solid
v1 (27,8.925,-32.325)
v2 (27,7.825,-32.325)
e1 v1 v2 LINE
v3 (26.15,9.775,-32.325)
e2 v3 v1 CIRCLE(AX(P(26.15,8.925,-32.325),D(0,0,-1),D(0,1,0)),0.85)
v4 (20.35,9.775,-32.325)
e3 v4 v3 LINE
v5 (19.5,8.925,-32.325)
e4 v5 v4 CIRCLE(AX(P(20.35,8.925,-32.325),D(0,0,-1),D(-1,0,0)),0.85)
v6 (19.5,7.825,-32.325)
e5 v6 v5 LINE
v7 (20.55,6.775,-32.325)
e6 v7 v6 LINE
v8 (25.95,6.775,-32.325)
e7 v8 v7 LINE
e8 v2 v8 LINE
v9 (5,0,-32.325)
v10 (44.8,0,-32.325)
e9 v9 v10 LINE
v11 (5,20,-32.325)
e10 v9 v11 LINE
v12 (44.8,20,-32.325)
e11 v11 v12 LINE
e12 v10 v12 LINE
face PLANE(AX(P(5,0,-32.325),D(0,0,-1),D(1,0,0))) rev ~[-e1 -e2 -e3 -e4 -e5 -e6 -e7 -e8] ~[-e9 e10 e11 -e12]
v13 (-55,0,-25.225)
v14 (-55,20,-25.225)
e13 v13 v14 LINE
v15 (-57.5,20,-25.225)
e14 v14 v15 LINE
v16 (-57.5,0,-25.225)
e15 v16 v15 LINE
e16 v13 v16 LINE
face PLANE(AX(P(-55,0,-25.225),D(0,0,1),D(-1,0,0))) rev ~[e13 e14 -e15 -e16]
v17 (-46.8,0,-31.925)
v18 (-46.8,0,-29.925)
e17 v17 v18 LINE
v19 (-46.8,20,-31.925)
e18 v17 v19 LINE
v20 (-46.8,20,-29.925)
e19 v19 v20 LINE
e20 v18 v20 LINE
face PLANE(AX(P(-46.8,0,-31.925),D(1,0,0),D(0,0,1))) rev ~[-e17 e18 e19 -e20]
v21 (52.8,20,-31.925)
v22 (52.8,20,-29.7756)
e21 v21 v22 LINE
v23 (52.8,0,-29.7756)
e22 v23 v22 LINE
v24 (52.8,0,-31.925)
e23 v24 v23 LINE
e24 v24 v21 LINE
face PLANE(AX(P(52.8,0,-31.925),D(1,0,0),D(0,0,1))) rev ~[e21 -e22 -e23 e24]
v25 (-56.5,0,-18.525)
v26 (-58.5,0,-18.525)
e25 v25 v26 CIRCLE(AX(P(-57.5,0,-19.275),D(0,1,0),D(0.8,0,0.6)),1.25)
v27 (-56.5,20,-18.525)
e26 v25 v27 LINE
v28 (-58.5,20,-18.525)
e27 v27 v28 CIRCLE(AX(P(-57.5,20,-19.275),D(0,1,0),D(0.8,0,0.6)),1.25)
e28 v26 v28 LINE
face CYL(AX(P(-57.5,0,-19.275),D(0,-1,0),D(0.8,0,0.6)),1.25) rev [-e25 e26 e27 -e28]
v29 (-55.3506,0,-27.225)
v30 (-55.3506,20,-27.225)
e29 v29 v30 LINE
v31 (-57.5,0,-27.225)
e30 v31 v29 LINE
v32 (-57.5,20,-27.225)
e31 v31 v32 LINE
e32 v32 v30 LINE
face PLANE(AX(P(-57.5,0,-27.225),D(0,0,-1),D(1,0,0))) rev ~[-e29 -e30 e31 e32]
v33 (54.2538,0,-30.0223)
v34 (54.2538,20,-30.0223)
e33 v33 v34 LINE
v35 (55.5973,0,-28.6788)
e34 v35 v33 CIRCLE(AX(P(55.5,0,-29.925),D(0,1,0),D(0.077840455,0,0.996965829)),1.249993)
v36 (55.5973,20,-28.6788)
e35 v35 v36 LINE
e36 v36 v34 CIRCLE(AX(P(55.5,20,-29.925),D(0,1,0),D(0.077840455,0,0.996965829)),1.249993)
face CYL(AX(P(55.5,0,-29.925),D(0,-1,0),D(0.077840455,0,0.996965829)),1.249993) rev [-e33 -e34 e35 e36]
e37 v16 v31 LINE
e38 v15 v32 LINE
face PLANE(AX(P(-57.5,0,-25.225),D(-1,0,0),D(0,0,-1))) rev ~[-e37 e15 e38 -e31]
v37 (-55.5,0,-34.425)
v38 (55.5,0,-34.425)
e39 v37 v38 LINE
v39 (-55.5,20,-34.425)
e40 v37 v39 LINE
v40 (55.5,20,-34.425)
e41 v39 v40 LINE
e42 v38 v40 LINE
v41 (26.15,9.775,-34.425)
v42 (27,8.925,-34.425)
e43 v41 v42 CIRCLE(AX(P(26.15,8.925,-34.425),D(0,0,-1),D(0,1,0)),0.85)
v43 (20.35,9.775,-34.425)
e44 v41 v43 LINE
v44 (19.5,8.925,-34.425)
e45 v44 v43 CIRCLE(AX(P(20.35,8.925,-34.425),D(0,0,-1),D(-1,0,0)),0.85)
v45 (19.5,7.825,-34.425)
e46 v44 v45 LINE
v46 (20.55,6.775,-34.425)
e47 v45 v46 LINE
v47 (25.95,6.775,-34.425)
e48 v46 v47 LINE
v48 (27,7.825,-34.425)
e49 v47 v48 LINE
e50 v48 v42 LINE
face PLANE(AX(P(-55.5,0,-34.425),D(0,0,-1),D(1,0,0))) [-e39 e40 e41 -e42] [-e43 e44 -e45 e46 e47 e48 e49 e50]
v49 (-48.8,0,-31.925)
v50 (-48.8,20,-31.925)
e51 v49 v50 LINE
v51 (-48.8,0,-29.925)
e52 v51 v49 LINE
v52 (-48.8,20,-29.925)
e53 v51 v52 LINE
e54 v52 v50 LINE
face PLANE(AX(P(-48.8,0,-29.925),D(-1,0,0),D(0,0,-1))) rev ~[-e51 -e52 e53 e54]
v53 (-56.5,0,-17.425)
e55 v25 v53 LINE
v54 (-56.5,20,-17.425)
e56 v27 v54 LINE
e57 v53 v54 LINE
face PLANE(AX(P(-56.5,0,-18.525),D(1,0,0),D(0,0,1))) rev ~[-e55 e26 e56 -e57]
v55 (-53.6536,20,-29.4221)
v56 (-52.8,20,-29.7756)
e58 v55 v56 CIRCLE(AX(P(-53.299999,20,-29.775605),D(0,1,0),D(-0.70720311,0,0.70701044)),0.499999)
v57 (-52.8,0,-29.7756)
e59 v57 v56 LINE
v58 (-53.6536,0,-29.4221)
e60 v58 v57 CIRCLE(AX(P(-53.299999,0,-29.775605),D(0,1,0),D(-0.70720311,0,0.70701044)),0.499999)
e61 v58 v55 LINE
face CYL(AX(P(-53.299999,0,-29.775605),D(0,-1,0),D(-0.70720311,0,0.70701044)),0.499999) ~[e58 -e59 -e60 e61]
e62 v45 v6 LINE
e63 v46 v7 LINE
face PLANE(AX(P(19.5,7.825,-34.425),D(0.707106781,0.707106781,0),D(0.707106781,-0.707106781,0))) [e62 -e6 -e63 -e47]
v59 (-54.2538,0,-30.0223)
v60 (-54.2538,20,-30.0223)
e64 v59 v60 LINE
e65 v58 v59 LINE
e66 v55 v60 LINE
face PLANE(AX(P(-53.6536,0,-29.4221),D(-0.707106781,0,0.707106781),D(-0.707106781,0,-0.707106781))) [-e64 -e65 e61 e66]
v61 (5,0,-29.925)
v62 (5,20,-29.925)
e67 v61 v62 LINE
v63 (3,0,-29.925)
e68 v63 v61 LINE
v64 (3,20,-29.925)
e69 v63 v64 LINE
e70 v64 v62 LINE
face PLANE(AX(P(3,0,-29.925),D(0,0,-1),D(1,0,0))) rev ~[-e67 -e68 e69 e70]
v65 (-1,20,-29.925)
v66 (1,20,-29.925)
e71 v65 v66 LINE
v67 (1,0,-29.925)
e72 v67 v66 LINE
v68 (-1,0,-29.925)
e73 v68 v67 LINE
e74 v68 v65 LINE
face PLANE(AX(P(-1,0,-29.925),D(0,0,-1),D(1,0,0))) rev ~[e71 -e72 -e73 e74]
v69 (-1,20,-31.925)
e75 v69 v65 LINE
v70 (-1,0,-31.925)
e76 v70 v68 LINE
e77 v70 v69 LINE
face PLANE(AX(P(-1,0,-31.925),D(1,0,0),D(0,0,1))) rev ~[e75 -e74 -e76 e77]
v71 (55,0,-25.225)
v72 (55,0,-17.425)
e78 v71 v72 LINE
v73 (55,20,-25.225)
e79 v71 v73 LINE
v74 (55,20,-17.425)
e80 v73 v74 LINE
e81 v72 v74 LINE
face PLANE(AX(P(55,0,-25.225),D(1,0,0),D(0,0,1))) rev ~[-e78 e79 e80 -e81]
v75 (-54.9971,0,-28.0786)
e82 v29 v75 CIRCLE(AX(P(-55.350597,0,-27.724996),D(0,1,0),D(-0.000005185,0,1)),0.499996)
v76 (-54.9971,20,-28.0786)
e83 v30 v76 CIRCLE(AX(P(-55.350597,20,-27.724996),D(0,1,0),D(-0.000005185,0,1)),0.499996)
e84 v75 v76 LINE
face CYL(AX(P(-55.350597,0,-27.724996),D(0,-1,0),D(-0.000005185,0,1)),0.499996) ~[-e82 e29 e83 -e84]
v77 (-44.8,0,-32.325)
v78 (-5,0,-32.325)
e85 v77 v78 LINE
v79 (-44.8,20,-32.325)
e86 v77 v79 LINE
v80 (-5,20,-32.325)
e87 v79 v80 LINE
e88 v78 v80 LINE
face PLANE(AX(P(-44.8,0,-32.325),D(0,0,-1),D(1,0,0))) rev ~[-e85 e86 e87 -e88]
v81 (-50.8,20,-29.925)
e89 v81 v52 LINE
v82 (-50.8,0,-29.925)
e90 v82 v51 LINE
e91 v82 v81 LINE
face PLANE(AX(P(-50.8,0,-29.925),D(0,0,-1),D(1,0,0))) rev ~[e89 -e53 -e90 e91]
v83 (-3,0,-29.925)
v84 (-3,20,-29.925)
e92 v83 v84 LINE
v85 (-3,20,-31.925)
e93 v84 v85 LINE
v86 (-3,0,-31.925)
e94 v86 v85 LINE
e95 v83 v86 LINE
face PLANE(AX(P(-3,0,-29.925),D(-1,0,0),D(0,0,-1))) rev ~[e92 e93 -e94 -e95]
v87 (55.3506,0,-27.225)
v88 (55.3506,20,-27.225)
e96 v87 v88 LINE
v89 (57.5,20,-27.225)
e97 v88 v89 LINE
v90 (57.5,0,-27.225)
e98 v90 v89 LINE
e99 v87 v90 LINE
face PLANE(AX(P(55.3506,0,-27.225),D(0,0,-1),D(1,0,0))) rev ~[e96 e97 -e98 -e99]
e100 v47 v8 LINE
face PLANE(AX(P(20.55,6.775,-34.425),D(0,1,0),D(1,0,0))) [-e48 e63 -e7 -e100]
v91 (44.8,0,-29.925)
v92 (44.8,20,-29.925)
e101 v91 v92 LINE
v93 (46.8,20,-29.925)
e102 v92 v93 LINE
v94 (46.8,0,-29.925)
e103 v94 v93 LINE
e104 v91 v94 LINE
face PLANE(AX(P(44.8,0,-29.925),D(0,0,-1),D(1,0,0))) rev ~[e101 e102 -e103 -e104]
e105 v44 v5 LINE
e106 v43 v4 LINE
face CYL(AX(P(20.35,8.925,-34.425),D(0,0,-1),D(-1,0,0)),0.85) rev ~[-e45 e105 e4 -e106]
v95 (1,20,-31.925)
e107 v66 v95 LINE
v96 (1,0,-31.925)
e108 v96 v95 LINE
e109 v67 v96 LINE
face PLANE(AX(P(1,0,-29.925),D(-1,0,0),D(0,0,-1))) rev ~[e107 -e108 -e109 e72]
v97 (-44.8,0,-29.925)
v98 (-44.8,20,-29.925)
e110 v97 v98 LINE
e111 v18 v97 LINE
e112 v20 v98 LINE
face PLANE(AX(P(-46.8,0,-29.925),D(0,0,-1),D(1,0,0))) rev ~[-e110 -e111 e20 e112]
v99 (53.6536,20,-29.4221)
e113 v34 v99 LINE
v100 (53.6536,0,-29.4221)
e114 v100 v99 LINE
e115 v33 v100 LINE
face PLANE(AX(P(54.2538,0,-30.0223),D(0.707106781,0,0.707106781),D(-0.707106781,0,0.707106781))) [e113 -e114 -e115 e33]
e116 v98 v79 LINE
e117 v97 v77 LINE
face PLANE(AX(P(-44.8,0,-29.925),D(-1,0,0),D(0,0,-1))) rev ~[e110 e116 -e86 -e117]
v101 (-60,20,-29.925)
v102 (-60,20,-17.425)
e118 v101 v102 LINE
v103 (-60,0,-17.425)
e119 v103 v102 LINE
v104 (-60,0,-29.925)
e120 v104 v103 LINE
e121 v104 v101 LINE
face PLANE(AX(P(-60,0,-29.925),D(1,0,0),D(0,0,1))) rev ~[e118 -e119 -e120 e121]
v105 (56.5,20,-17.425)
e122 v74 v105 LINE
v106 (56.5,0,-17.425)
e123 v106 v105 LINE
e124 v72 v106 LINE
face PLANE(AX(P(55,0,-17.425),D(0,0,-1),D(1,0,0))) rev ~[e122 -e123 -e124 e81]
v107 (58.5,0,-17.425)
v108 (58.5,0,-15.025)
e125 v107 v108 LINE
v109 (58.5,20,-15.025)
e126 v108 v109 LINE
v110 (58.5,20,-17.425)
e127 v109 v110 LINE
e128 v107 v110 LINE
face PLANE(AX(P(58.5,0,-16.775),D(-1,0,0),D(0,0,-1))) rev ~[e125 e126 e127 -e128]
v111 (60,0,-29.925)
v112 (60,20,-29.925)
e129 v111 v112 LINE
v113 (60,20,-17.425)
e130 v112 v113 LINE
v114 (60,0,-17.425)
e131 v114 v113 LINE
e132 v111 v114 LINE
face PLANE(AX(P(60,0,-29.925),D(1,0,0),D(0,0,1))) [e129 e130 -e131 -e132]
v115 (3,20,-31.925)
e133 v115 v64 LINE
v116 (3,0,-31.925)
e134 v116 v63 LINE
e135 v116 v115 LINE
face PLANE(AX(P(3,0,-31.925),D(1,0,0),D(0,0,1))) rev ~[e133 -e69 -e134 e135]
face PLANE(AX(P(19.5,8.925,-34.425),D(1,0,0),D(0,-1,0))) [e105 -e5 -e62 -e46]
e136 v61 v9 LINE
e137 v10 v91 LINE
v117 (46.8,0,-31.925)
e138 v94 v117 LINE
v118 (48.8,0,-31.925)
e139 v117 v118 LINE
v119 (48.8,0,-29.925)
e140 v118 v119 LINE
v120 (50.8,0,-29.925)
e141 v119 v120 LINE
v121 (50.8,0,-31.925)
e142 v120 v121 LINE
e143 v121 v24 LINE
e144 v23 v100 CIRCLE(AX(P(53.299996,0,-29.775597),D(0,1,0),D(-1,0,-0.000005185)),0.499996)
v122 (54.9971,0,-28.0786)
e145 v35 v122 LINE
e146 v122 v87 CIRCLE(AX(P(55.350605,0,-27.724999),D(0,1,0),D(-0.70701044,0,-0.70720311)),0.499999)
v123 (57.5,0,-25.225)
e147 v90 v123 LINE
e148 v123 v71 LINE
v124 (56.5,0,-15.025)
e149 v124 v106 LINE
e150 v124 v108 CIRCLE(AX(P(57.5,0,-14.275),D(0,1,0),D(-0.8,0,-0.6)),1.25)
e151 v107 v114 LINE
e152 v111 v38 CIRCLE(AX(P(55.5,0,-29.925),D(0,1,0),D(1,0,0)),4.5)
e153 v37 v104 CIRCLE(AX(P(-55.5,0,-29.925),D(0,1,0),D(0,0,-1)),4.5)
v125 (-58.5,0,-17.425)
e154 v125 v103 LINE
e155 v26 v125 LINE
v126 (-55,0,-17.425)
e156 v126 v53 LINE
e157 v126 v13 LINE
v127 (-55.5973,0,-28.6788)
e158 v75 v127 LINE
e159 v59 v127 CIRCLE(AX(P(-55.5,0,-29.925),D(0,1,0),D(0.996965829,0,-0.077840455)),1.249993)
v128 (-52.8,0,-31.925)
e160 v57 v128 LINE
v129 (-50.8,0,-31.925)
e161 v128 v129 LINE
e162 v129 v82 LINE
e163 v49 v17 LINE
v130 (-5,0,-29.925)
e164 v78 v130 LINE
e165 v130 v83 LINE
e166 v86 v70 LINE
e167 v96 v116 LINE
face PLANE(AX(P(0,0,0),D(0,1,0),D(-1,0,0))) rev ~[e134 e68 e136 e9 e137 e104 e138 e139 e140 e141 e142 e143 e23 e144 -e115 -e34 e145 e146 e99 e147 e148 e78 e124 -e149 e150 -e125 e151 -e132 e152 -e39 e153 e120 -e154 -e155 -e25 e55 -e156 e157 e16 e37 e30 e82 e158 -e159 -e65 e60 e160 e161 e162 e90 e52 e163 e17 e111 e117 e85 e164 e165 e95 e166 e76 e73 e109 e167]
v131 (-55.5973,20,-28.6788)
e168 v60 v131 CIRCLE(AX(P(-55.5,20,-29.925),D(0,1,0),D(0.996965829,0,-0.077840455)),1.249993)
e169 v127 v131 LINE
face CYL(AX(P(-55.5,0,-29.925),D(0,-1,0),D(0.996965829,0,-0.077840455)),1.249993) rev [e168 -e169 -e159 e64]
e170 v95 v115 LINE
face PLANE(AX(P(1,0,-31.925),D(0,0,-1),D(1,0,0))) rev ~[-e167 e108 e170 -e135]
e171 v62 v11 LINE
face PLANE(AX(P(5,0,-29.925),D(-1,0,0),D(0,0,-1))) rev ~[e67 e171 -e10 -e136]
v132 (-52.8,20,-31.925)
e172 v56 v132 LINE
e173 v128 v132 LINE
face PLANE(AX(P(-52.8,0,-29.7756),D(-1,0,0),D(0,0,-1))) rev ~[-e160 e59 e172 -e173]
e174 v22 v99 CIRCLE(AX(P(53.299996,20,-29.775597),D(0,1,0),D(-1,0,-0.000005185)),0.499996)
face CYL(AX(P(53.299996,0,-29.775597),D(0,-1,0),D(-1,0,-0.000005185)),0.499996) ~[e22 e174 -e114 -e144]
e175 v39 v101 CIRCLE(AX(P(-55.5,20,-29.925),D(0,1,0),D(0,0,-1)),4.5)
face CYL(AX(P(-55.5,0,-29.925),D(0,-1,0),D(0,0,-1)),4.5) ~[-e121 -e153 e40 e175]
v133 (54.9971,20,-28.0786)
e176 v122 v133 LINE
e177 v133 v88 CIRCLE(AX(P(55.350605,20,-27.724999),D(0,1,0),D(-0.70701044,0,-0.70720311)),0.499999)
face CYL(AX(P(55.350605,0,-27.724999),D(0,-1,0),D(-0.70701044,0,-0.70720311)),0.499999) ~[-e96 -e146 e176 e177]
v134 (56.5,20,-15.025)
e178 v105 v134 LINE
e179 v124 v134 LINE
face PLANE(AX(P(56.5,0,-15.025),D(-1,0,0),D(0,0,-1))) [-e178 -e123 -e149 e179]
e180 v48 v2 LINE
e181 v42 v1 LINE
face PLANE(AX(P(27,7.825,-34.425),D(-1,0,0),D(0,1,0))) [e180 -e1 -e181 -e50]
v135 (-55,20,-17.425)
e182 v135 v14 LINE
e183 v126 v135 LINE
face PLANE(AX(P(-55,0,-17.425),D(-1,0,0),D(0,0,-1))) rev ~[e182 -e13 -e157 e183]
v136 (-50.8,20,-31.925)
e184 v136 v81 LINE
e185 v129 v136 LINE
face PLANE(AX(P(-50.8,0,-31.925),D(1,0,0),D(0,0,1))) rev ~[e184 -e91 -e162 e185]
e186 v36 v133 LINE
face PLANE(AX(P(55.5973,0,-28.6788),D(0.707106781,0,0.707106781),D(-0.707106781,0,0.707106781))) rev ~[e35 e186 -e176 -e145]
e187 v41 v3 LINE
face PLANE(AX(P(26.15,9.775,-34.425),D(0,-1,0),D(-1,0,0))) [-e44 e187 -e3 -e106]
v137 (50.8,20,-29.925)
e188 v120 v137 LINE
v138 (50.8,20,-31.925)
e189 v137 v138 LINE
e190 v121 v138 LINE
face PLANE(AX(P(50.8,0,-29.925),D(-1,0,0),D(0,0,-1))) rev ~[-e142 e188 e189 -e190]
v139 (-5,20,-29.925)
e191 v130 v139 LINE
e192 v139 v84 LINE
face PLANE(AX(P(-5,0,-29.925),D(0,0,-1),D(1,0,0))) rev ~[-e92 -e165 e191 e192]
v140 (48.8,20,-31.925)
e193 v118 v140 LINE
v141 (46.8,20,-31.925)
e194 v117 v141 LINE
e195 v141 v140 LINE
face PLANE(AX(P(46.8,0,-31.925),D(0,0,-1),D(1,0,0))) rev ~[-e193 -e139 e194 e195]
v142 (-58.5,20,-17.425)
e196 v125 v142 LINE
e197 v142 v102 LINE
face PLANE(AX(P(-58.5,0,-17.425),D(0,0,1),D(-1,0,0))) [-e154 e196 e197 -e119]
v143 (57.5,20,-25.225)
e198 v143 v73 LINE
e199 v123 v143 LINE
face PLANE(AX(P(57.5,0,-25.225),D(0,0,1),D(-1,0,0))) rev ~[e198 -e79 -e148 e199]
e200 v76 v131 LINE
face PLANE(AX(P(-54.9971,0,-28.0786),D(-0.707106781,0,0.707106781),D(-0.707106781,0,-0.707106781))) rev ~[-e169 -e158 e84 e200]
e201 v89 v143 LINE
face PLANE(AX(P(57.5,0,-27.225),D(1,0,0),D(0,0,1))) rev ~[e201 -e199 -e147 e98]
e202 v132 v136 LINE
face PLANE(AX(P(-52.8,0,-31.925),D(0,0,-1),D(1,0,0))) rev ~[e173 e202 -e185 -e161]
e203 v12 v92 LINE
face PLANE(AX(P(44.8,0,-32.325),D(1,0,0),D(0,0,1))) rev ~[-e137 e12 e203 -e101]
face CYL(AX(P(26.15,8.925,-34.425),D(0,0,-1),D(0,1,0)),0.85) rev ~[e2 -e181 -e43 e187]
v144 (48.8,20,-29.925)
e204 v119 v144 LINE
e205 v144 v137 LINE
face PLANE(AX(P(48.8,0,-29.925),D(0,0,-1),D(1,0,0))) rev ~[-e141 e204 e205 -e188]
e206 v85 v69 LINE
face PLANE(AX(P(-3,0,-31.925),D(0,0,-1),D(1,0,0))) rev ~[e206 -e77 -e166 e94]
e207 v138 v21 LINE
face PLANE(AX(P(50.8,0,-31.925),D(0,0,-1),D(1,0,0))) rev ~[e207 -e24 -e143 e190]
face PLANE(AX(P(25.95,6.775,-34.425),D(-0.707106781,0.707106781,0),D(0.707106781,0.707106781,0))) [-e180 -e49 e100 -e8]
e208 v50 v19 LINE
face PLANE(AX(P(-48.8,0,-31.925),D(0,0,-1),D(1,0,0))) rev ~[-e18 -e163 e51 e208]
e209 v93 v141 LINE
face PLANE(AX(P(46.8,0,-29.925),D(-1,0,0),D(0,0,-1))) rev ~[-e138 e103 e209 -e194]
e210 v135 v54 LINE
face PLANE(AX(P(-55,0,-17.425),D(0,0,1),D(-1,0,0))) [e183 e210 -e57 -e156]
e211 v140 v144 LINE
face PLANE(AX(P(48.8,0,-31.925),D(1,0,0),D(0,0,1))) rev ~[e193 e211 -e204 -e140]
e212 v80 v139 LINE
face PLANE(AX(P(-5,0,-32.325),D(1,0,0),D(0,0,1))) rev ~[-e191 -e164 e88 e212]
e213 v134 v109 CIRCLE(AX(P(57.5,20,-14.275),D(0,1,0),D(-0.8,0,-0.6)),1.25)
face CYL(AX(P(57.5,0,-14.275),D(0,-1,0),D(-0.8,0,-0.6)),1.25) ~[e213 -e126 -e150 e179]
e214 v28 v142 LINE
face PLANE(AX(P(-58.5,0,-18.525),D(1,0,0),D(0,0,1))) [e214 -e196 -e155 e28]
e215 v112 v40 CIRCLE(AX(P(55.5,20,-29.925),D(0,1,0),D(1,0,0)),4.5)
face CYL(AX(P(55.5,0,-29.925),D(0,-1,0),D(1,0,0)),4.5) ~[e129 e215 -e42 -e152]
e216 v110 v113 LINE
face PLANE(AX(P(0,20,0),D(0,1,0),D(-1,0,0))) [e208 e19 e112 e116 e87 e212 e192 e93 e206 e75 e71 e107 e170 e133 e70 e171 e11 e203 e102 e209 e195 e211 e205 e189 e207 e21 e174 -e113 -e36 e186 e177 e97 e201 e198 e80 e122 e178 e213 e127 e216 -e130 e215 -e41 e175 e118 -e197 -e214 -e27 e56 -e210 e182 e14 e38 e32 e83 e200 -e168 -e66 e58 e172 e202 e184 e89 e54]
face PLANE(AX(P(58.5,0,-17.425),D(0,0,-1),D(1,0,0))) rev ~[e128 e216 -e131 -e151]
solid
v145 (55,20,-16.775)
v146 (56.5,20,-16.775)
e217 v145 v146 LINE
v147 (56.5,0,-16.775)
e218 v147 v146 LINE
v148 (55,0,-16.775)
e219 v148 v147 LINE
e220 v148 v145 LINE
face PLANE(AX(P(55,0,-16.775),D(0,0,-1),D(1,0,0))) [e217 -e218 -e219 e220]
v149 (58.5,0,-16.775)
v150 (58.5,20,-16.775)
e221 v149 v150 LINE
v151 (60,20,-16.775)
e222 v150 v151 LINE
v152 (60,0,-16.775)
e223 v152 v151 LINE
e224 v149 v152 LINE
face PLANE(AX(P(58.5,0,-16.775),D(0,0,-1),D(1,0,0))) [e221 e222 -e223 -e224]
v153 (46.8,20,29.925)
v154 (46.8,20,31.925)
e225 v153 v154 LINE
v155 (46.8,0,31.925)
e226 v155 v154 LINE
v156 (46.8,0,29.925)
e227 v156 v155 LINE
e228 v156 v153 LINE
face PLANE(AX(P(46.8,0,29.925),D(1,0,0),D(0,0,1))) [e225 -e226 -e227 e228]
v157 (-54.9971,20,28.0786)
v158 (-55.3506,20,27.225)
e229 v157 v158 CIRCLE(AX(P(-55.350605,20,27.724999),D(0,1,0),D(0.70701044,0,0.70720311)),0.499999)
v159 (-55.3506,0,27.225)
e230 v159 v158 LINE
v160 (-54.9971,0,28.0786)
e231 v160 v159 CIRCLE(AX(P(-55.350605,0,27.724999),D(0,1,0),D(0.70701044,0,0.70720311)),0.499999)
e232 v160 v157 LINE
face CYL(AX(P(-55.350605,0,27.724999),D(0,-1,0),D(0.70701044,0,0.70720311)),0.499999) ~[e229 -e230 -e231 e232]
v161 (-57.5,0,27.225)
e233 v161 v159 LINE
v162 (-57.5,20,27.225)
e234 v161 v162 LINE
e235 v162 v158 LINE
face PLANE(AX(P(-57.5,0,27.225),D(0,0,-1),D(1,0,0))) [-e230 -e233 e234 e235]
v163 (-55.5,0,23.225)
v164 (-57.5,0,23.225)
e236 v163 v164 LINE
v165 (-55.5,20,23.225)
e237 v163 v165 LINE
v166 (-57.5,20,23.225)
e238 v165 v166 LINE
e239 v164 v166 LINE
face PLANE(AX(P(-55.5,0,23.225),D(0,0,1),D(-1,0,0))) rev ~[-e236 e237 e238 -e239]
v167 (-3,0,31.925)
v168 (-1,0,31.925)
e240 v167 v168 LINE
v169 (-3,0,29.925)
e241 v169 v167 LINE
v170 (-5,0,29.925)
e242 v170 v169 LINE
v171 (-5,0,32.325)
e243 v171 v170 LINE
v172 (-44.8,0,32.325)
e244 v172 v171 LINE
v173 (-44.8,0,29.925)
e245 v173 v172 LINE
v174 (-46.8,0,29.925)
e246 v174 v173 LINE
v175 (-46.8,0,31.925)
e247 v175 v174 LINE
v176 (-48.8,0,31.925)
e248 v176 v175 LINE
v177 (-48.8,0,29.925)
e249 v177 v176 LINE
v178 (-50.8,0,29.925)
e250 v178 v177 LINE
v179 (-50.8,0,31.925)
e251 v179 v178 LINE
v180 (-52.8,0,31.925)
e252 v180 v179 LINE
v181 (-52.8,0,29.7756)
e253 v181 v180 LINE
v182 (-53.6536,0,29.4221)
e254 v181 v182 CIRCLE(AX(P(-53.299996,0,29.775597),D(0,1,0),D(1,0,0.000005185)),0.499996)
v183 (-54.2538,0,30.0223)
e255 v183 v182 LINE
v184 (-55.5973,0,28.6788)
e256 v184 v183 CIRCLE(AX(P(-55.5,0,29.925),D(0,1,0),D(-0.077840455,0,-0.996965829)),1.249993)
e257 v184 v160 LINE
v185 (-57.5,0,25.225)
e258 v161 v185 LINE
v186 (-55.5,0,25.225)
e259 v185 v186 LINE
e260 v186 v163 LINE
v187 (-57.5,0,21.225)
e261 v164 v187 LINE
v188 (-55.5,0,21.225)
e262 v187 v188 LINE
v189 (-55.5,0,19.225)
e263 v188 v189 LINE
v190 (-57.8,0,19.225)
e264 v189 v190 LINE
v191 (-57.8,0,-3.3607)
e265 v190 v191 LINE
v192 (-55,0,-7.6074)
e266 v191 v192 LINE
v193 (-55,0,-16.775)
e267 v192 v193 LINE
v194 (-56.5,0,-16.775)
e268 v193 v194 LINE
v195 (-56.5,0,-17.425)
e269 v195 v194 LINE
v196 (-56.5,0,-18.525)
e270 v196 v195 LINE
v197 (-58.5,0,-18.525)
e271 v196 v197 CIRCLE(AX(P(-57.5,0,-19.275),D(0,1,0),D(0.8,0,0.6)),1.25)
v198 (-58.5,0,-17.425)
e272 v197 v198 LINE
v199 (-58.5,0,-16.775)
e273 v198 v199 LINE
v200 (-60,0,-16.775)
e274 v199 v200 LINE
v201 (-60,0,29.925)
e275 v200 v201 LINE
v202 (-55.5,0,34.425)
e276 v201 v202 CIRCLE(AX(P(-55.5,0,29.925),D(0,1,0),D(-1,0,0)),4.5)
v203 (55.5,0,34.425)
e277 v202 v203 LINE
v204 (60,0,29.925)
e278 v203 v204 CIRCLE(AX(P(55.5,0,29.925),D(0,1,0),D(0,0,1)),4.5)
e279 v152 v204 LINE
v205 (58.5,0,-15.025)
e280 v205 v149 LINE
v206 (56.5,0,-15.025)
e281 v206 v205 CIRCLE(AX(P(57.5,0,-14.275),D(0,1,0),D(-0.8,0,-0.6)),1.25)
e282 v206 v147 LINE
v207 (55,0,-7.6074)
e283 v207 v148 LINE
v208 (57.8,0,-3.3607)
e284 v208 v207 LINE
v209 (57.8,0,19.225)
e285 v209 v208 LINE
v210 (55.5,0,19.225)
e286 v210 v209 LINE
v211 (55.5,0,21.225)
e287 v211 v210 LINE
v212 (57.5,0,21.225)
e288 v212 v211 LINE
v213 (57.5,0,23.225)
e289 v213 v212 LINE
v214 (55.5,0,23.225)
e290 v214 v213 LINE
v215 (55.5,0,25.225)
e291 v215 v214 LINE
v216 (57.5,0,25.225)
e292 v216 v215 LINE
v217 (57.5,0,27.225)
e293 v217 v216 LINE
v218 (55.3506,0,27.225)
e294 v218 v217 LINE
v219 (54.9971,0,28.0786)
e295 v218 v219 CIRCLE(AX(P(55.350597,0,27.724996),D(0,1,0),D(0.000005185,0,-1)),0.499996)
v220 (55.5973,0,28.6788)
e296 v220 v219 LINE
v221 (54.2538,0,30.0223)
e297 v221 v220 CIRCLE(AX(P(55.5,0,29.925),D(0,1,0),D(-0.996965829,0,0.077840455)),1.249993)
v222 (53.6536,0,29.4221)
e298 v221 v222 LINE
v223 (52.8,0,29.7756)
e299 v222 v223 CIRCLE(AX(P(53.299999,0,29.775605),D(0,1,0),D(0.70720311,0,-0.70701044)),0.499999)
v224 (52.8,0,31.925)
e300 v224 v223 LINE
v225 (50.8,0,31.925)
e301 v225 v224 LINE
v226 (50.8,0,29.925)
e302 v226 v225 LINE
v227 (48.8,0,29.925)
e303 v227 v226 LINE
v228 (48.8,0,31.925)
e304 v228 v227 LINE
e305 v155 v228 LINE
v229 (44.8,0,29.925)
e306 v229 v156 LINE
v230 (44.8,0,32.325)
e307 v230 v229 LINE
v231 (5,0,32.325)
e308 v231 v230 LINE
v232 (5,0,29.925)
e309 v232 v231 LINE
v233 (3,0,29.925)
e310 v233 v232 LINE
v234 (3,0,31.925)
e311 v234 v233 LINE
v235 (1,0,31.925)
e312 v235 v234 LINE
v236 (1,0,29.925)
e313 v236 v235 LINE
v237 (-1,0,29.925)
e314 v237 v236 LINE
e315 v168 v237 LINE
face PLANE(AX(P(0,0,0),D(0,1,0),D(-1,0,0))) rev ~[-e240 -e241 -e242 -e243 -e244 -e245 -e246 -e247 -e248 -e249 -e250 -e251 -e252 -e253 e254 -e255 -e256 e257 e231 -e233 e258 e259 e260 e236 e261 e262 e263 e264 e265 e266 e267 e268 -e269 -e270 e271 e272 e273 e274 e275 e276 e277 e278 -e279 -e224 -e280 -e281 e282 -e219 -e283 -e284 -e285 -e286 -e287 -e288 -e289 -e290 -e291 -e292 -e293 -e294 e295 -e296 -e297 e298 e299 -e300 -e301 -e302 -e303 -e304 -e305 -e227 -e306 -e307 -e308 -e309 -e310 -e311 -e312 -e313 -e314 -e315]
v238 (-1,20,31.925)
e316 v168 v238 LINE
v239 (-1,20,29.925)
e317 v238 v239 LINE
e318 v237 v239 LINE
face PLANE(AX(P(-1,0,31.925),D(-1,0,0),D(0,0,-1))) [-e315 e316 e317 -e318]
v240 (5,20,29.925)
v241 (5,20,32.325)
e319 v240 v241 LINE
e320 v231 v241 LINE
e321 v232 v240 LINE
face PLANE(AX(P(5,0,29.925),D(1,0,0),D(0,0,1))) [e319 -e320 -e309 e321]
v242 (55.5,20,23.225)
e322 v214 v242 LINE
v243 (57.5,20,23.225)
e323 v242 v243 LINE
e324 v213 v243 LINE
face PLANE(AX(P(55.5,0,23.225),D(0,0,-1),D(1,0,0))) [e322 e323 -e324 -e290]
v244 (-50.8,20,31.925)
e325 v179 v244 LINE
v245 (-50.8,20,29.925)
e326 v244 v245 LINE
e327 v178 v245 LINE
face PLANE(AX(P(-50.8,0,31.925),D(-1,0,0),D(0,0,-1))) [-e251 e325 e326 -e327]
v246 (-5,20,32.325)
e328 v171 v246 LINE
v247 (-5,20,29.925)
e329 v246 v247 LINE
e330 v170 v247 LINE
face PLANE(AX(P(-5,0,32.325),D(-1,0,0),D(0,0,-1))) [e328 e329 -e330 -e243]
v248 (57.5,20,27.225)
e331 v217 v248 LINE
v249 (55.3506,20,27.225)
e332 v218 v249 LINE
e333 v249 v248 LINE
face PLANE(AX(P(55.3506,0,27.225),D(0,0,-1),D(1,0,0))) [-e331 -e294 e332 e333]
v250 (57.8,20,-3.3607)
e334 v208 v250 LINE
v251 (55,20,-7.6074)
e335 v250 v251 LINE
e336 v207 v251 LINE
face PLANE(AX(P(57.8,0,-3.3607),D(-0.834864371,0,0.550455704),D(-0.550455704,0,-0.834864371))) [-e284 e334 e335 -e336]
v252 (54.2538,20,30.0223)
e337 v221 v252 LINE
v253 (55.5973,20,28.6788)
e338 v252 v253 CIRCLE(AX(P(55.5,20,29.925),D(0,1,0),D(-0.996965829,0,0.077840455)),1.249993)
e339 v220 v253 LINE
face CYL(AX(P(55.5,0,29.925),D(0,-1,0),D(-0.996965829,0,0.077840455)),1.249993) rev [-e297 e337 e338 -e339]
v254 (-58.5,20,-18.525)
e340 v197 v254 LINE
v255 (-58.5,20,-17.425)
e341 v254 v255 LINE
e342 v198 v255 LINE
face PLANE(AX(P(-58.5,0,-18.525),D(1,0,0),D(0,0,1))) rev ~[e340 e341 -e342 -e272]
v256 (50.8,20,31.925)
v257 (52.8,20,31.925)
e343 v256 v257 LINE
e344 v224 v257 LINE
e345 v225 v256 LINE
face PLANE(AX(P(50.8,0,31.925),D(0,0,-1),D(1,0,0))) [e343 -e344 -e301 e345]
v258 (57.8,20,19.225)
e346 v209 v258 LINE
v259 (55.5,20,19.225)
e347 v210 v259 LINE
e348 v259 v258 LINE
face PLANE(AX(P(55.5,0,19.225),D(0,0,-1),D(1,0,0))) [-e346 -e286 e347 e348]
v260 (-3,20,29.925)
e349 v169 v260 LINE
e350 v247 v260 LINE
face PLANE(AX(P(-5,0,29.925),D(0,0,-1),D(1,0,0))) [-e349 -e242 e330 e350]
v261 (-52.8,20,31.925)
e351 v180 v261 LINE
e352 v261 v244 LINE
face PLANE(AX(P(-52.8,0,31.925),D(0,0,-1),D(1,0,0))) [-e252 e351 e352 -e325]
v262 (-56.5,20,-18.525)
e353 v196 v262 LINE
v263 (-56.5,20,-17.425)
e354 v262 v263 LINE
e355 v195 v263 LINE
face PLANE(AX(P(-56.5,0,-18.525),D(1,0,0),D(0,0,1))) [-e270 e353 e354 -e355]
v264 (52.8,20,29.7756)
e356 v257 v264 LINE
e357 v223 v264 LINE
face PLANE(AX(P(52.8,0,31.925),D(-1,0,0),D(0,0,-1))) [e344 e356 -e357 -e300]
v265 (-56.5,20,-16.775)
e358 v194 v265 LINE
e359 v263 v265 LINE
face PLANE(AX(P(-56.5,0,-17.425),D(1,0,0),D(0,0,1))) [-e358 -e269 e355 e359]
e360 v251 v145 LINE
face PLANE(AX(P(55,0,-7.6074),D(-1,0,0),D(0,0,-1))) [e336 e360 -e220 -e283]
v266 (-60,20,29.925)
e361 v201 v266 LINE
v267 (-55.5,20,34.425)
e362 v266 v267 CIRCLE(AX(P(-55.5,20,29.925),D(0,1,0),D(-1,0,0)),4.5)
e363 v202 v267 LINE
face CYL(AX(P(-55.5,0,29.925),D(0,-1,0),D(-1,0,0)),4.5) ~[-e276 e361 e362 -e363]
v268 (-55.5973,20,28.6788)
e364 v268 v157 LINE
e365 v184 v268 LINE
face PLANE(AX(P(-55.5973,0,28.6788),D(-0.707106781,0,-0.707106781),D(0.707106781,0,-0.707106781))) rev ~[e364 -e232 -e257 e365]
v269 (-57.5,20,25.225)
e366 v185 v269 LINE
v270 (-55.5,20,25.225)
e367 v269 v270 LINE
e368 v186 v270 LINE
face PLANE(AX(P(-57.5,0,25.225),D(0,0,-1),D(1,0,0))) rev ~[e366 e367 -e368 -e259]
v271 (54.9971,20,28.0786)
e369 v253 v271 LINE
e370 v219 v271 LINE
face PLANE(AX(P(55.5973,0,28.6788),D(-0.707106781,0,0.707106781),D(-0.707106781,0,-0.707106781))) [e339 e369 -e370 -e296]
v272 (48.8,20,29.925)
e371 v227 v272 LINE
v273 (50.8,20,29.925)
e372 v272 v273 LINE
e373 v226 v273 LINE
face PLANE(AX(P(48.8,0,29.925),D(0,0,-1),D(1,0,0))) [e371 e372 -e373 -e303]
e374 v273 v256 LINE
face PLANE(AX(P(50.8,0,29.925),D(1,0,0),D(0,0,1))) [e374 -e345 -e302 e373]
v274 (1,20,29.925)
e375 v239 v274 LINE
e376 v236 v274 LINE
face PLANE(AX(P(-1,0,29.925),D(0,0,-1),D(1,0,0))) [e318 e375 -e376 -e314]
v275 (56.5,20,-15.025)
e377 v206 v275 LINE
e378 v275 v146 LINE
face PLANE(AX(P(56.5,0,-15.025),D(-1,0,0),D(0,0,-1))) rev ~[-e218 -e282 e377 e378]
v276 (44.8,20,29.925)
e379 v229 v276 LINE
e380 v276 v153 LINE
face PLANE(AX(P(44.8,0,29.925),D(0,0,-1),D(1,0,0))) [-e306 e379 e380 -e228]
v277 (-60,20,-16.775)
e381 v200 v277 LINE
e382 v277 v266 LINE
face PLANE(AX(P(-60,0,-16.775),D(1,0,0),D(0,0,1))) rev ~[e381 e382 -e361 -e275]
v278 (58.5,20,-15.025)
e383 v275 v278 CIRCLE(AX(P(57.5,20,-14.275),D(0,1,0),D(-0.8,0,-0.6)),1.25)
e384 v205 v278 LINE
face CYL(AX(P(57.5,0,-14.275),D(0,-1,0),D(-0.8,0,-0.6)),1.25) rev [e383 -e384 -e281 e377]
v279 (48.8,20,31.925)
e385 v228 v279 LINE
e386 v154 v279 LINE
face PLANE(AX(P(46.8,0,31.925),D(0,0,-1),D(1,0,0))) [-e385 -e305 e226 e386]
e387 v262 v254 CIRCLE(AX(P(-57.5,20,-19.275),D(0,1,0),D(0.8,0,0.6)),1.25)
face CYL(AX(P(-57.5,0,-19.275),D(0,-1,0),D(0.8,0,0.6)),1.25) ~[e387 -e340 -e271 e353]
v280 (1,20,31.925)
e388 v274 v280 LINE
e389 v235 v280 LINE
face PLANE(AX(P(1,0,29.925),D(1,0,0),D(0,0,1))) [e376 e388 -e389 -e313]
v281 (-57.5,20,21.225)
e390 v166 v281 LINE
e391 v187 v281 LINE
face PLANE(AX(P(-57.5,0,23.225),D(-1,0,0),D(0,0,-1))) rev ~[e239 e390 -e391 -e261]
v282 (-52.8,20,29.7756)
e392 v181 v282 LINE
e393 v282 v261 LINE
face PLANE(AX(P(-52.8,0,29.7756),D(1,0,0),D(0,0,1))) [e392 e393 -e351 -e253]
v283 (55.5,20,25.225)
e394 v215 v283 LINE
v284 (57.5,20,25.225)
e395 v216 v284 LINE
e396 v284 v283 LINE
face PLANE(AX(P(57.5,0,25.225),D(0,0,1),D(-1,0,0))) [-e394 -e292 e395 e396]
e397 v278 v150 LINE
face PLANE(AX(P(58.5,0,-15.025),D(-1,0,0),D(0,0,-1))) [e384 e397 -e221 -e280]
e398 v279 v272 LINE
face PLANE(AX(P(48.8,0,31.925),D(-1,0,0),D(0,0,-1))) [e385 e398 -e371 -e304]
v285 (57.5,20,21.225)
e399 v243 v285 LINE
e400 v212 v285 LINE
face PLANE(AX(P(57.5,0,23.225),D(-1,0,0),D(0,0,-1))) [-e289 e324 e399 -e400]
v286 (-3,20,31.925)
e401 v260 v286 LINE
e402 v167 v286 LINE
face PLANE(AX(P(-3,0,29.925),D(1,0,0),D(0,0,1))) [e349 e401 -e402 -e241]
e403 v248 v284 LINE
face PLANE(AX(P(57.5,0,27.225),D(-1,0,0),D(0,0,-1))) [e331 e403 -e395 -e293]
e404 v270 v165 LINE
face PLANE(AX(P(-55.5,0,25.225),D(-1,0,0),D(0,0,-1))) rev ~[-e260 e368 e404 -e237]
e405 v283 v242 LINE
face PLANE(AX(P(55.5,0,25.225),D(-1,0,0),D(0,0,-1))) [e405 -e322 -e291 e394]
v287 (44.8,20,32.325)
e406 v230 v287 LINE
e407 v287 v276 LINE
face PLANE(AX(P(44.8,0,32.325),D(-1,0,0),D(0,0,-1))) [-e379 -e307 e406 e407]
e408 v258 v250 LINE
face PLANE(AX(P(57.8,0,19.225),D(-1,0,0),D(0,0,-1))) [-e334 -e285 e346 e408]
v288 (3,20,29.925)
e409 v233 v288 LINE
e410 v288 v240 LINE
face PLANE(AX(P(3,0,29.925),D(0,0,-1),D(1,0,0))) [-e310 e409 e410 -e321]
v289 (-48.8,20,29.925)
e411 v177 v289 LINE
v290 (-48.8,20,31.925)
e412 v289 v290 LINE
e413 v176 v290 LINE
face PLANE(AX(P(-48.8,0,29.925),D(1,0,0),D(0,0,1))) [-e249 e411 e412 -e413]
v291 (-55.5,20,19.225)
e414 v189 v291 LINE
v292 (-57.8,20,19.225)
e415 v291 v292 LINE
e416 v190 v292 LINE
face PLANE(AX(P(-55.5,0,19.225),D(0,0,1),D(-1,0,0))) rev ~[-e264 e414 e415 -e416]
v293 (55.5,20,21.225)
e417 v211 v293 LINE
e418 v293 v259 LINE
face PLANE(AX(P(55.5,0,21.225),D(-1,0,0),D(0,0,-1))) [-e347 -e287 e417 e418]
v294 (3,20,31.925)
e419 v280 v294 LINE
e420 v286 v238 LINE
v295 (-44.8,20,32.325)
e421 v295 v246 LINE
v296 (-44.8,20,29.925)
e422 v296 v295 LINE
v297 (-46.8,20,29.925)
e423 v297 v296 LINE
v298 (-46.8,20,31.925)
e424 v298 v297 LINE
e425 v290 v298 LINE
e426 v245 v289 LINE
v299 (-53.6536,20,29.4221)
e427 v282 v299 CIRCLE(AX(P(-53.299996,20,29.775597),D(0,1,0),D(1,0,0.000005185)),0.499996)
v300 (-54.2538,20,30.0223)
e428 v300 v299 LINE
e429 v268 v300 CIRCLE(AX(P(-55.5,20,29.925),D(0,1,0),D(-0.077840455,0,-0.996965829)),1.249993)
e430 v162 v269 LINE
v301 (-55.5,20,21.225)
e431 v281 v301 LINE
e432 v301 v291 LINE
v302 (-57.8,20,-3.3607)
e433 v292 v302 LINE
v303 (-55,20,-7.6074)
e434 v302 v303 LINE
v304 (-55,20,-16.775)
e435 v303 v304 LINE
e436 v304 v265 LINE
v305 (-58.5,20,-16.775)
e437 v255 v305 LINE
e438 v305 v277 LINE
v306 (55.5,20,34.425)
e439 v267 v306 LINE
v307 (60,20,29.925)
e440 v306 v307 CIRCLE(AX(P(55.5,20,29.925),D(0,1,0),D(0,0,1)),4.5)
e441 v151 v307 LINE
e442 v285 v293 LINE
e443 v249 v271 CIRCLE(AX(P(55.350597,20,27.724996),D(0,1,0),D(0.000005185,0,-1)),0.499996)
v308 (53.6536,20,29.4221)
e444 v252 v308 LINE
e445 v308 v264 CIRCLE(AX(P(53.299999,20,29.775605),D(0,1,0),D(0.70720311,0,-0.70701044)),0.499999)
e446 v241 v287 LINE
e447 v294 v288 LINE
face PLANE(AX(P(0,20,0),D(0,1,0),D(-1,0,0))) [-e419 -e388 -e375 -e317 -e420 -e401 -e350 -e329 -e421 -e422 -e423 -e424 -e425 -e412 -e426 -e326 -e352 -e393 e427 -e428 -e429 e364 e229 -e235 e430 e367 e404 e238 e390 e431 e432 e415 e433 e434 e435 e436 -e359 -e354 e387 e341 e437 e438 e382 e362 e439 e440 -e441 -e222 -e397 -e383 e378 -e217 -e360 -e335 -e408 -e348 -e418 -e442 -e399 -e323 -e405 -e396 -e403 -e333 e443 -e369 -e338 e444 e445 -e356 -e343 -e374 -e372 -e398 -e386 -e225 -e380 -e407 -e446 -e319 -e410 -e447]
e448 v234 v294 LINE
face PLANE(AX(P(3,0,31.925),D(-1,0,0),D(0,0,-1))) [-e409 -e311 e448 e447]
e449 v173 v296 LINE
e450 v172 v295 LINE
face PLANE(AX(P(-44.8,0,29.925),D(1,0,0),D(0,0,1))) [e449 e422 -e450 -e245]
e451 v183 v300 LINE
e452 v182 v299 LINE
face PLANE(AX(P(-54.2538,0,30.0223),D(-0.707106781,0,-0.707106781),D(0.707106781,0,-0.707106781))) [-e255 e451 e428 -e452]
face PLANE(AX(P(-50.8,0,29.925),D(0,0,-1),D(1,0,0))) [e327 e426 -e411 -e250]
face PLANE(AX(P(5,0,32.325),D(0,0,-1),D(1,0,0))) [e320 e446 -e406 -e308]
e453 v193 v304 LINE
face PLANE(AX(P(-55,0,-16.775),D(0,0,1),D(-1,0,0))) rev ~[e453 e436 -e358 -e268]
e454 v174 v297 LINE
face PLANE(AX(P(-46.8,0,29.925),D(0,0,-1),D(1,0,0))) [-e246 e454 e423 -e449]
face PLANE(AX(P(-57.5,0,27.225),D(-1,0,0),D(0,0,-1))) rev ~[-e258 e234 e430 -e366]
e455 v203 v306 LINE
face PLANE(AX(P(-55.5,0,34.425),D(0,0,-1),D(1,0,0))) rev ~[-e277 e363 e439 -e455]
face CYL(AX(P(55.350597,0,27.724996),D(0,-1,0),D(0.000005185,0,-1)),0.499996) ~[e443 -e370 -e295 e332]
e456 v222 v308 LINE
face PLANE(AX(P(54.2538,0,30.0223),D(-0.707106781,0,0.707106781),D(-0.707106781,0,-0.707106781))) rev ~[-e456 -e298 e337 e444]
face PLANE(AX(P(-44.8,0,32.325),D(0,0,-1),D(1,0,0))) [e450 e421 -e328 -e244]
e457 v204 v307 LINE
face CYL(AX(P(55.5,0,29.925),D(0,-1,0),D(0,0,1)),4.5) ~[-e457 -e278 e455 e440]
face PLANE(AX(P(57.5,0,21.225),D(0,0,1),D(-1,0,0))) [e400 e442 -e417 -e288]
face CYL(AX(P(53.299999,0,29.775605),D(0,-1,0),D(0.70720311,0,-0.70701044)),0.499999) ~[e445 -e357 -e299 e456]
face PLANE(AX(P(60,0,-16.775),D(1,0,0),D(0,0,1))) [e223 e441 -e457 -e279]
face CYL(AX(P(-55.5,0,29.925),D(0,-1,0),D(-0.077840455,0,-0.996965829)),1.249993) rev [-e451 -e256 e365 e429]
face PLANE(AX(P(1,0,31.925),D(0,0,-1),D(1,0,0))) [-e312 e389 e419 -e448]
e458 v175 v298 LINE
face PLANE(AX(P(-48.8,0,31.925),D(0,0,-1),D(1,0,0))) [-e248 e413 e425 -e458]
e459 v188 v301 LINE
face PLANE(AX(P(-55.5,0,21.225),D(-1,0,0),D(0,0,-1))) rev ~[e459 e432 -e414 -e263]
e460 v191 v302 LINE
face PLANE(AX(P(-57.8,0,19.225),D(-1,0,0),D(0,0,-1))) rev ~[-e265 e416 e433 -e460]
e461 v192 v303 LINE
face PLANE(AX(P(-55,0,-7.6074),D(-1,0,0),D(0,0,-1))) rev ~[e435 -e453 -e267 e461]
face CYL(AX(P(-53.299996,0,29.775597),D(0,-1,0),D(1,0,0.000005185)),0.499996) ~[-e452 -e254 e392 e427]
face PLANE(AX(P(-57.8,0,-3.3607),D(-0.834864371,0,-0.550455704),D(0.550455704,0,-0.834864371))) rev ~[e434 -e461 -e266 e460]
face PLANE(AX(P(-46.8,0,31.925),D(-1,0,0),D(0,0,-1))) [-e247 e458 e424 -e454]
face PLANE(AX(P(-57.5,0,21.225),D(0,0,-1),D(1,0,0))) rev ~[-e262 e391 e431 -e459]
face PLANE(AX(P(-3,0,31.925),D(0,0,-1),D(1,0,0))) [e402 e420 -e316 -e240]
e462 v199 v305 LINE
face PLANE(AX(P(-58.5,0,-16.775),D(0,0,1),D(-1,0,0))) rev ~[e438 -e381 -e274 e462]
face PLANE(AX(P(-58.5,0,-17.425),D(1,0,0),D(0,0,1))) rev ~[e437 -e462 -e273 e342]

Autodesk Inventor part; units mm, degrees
ref_plane "YZ Plane" through (0, 0, 0) normal (1, 0, 0) x (0, 1, 0)
ref_plane "XZ Plane" through (0, 0, 0) normal (0, 1, 0) x (-1, 0, 0)
ref_plane "XY Plane" through (0, 0, 0) normal (0, 0, 1) x (1, 0, 0)
sketch "Sketch1" plane through (0, 0, 0) normal (0, 1, 0) x (-1, 0, 0)
  arc A0 (55.5973, 28.6788) -> (54.2538, 30.0223) centre (55.5, 29.925) ccw
  arc A1 (-54.2538, 30.0223) -> (-55.5973, 28.6788) centre (-55.5, 29.925) ccw
  arc A2 (54.2538, -30.0223) -> (55.5973, -28.6788) centre (55.5, -29.925) ccw
  arc A3 (-55.5973, -28.6788) -> (-54.2538, -30.0223) centre (-55.5, -29.925) ccw
  line L0 (55.5, 34.425) -> (-55.5, 34.425)
  line L1 (55.5, -34.425) -> (-55.5, -34.425)
  line L2 (9.5866, 0) -> (-6.7847, 0) construction
  line L3 (0, -6.6233) -> (0, 6.4737) construction
  arc A4 (55.5, -34.425) -> (60, -29.925) centre (55.5, -29.925) ccw
  arc A5 (60, 29.925) -> (55.5, 34.425) centre (55.5, 29.925) ccw
  arc A6 (-55.5, 34.425) -> (-60, 29.925) centre (-55.5, 29.925) ccw
  arc A7 (-60, -29.925) -> (-55.5, -34.425) centre (-55.5, -29.925) ccw
  line L4 (57.5, 27.225) -> (57.5, 25.225)
  line L5 (57.5, 25.225) -> (55.5, 25.225)
  line L6 (55.5, 25.225) -> (55.5, 23.225)
  line L7 (55.5, 23.225) -> (57.5, 23.225)
  line L8 (57.5, 23.225) -> (57.5, 21.225)
  line L9 (57.5, 21.225) -> (55.5, 21.225)
  line L10 (55.5, 21.225) -> (55.5, 19.225)
  line L11 (55.5, 19.225) -> (57.8, 19.225)
  line L12 (57.8, 19.225) -> (57.8, -3.3607)
  line L13 (-57.5, 27.225) -> (-57.5, 25.225)
  line L14 (-57.5, 25.225) -> (-55.5, 25.225)
  line L15 (-55.5, 25.225) -> (-55.5, 23.225)
  line L16 (-55.5, 23.225) -> (-57.5, 23.225)
  line L17 (-57.5, 23.225) -> (-57.5, 21.225)
  line L18 (-57.5, 21.225) -> (-55.5, 21.225)
  line L19 (-55.5, 21.225) -> (-55.5, 19.225)
  line L20 (-55.5, 19.225) -> (-57.8, 19.225)
  line L21 (-57.8, 19.225) -> (-57.8, -3.3607)
  line L22 (57.5, 27.225) -> (55.3506, 27.225)
  line L23 (52.8, 29.7756) -> (52.8, 31.925)
  line L24 (52.8, 31.925) -> (50.8, 31.925)
  line L25 (50.8, 31.925) -> (50.8, 29.925)
  line L26 (50.8, 29.925) -> (48.8, 29.925)
  line L27 (48.8, 29.925) -> (48.8, 31.925)
  line L28 (48.8, 31.925) -> (46.8, 31.925)
  line L29 (46.8, 31.925) -> (46.8, 29.925)
  line L30 (46.8, 29.925) -> (44.8, 29.925)
  line L31 (44.8, 29.925) -> (44.8, 32.325)
  line L32 (44.8, 32.325) -> (5, 32.325)
  line L33 (5, 32.325) -> (5, 29.925)
  line L34 (5, 29.925) -> (3, 29.925)
  line L35 (3, 29.925) -> (3, 31.925)
  line L36 (3, 31.925) -> (1, 31.925)
  line L37 (1, 31.925) -> (1, 29.925)
  line L38 (1, 29.925) -> (-1, 29.925)
  line L39 (-1, 29.925) -> (-1, 31.925)
  line L40 (-1, 31.925) -> (-3, 31.925)
  line L41 (-3, 31.925) -> (-3, 29.925)
  line L42 (-3, 29.925) -> (-5, 29.925)
  line L43 (-5, 29.925) -> (-5, 32.325)
  line L44 (-5, 32.325) -> (-44.8, 32.325)
  line L45 (-44.8, 32.325) -> (-44.8, 29.925)
  line L46 (-44.8, 29.925) -> (-46.8, 29.925)
  line L47 (-46.8, 29.925) -> (-46.8, 31.925)
  line L48 (-46.8, 31.925) -> (-48.8, 31.925)
  line L49 (-48.8, 31.925) -> (-48.8, 29.925)
  line L50 (-48.8, 29.925) -> (-50.8, 29.925)
  line L51 (-50.8, 29.925) -> (-50.8, 31.925)
  line L52 (-50.8, 31.925) -> (-52.8, 31.925)
  line L53 (-52.8, 31.925) -> (-52.8, 29.7756)
  line L54 (-55.3506, 27.225) -> (-57.5, 27.225)
  line L55 (55.5973, 28.6788) -> (54.9971, 28.0786)
  line L56 (54.2538, 30.0223) -> (53.6536, 29.4221)
  line L57 (55.5, 29.925) -> (51.9091, 26.3341) construction
  arc A8 (52.8, 29.7756) -> (53.6536, 29.4221) centre (53.3, 29.7756) ccw
  arc A9 (54.9971, 28.0786) -> (55.3506, 27.225) centre (55.3506, 27.725) ccw
  line L58 (-55.5973, 28.6788) -> (-54.9971, 28.0786)
  line L59 (-54.2538, 30.0223) -> (-53.6536, 29.4221)
  arc A10 (-53.6536, 29.4221) -> (-52.8, 29.7756) centre (-53.3, 29.7756) ccw
  arc A11 (-55.3506, 27.225) -> (-54.9971, 28.0786) centre (-55.3506, 27.725) ccw
  line L60 (57.8, -3.3607) -> (55, -7.6074)
  line L61 (55, -7.6074) -> (55, -16.775)
  arc A12 (56.5, -18.525) -> (58.5, -18.525) centre (57.5, -19.275) ccw
  line L62 (58.5, -18.525) -> (58.5, -16.775)
  line L63 (56.5, -18.525) -> (56.5, -16.775)
  line L64 (55, -16.775) -> (56.5, -16.775)
  line L65 (58.5, -16.775) -> (60, -16.775)
  line L66 (57.5, -16.4962) -> (57.5, -11.7384) construction
  line L67 (-57.8, -3.3607) -> (-55, -7.6074)
  line L68 (-55, -7.6074) -> (-55, -16.775)
  arc A13 (-56.5, -15.025) -> (-58.5, -15.025) centre (-57.5, -14.275) ccw
  line L69 (-58.5, -15.025) -> (-58.5, -16.775)
  line L70 (-56.5, -15.025) -> (-56.5, -16.775)
  line L71 (-55, -16.775) -> (-56.5, -16.775)
  line L72 (-58.5, -16.775) -> (-60, -16.775)
  line L73 (-57.5, -20.9142) -> (-57.5, -16.6435) construction
  line L74 (44.8, -32.325) -> (5, -32.325)
  line L75 (5, -32.325) -> (5, -29.925)
  line L76 (5, -29.925) -> (3, -29.925)
  line L77 (3, -29.925) -> (3, -31.925)
  line L78 (3, -31.925) -> (1, -31.925)
  line L79 (1, -31.925) -> (1, -29.925)
  line L80 (1, -29.925) -> (-1, -29.925)
  line L81 (-1, -29.925) -> (-1, -31.925)
  line L82 (-1, -31.925) -> (-3, -31.925)
  line L83 (-3, -31.925) -> (-3, -29.925)
  line L84 (-3, -29.925) -> (-5, -29.925)
  line L85 (-5, -29.925) -> (-5, -32.325)
  line L86 (-5, -32.325) -> (-44.8, -32.325)
  line L87 (55, -17.425) -> (55, -25.225)
  line L88 (55, -25.225) -> (57.5, -25.225)
  line L89 (57.5, -25.225) -> (57.5, -27.225)
  line L90 (57.5, -27.225) -> (55.3506, -27.225)
  line L91 (52.8, -29.7756) -> (52.8, -31.925)
  line L92 (52.8, -31.925) -> (50.8, -31.925)
  line L93 (50.8, -31.925) -> (50.8, -29.925)
  line L94 (50.8, -29.925) -> (48.8, -29.925)
  line L95 (48.8, -29.925) -> (48.8, -31.925)
  line L96 (48.8, -31.925) -> (46.8, -31.925)
  line L97 (46.8, -31.925) -> (46.8, -29.925)
  line L98 (46.8, -29.925) -> (44.8, -29.925)
  line L99 (44.8, -29.925) -> (44.8, -32.325)
  line L100 (-44.8, -32.325) -> (-44.8, -29.925)
  line L101 (-44.8, -29.925) -> (-46.8, -29.925)
  line L102 (-46.8, -29.925) -> (-46.8, -31.925)
  line L103 (-46.8, -31.925) -> (-48.8, -31.925)
  line L104 (-48.8, -31.925) -> (-48.8, -29.925)
  line L105 (-48.8, -29.925) -> (-50.8, -29.925)
  line L106 (-50.8, -29.925) -> (-50.8, -31.925)
  line L107 (-50.8, -31.925) -> (-52.8, -31.925)
  line L108 (-52.8, -31.925) -> (-52.8, -29.7756)
  line L109 (-55.3506, -27.225) -> (-57.5, -27.225)
  line L110 (-57.5, -27.225) -> (-57.5, -25.225)
  line L111 (-57.5, -25.225) -> (-55, -25.225)
  line L112 (-55, -25.225) -> (-55, -17.425)
  line L113 (54.9971, -28.0786) -> (55.5973, -28.6788)
  line L114 (53.6536, -29.4221) -> (54.2538, -30.0223)
  arc A14 (55.3506, -27.225) -> (54.9971, -28.0786) centre (55.3506, -27.725) ccw
  arc A15 (53.6536, -29.4221) -> (52.8, -29.7756) centre (53.3, -29.7756) ccw
  line L115 (-54.2538, -30.0223) -> (-53.6536, -29.4221)
  line L116 (-55.5973, -28.6788) -> (-54.9971, -28.0786)
  arc A16 (-52.8, -29.7756) -> (-53.6536, -29.4221) centre (-53.3, -29.7756) ccw
  arc A17 (-54.9971, -28.0786) -> (-55.3506, -27.225) centre (-55.3506, -27.725) ccw
  line L117 (55, -17.425) -> (56.5, -17.425)
  line L118 (58.5, -17.425) -> (60, -17.425)
  line L119 (60, -29.925) -> (60, -17.425)
  line L120 (60, -16.775) -> (60, 29.925)
  line L121 (-55, -17.425) -> (-56.5, -17.425)
  line L122 (-56.5, -17.425) -> (-56.5, -16.775)
  line L123 (-58.5, -16.775) -> (-58.5, -17.425)
  line L124 (-58.5, -17.425) -> (-60, -17.425)
  line L125 (-60, -29.925) -> (-60, -17.425)
  line L126 (-60, -16.775) -> (-60, 29.925)
  point P0 (0, 0)
  dimension "d1" = 111
  dimension "d3" = 68.85
  dimension "d5" = 115
  dimension "d11" = 2
  dimension "d12" = 45
  dimension "d14" = 1
  dimension "d16" = 2.5
  dimension "d19" = 2.5
  dimension "d20" = 51.2
  dimension "d21" = 2
  dimension "d23" = 2.5
  dimension "d25" = 2.5
  dimension "d26" = 17
  dimension "d27" = 2.2
  dimension "d29" = 4.5
  dimension "d30" = 120
  dimension "d31" = 5
  dimension "d59" = 1.25
  dimension "d61" = 2.1
  dimension "d62" = 7.2
  dimension "d63" = 1.9
extrude "Extrusion1" add sketch "Sketch1" along normal blind 20 contours A0 L56 A8 L23 L24 L25 L26 L27 L28 L29 L30 L31 L32 L33 L34 L35 L36 L37 L38 L39 L40 L41 L42 L43 L44 L45 L46 L47 L48 L49 L50 L51 L52 L53 A10 L59 A1 L58 A11 L54 L13 L14 L15 L16 L17 L18 L19 L20 L21 L67 L68 L71 L70 A13 L69 L72 L126 A6 L0 A5 L120 L65 L62 A12 L63 L64 L61 L60 L12 L11 L10 L9 L8 L7 L6 L5 L4 L22 A9 L55
extrude "Extrusion2" add sketch "Sketch1" along normal blind 20 separate body contours L63 A12 L62 L118 L119 A4 L1 A7 L125 L124 L123 L69 A13 L70 L122 L121 L112 L111 L110 L109 A17 L116 A3 L115 A16 L108 L107 L106 L105 L104 L103 L102 L101 L100 L86 L85 L84 L83 L82 L81 L80 L79 L78 L77 L76 L75 L74 L99 L98 L97 L96 L95 L94 L93 L92 L91 A15 L114 A2 L113 A14 L90 L89 L88 L87 L117
sketch "Sketch2" plane through (55.5, 0, -34.425) normal (0, 0, -1) x (-1, 0, 0)
  line L0 (0, 20) -> (111, 20) projected
  line L1 (-4.5, 0) -> (-4.5, 20) projected
  line L2 (0, 0) -> (111, 0) construction
  line L3 (29.35, 9.775) -> (35.15, 9.775)
  line L4 (36, 8.925) -> (36, 7.825)
  line L5 (36, 7.825) -> (34.95, 6.775)
  line L6 (34.95, 6.775) -> (29.55, 6.775)
  line L7 (29.55, 6.775) -> (28.5, 7.825)
  line L8 (28.5, 7.825) -> (28.5, 8.925)
  arc A0 (29.35, 9.775) -> (28.5, 8.925) centre (29.35, 8.925) ccw
  arc A1 (36, 8.925) -> (35.15, 9.775) centre (35.15, 8.925) ccw
  line L9 (32.25, 33.4023) -> (32.25, 0.9977) construction
  line L10 (30.8868, 8.275) -> (33.2449, 8.275) construction
  line L11 (36.3179, 7.1) -> (28.086, 7.1) construction
  point P0 (55.5, 0)
  point P1 (28.75, 8.275)
  dimension "d49" = 7.5
  dimension "d50" = 3
  dimension "d51" = 5.4
  dimension "d52" = 45
  dimension "d53" = 1.1
  dimension "d58" = 36.75
  dimension "d65" = 0.325
  dimension "d66" = 12.9
  dimension "d67" = 11.725
extrude "Extrusion3" cut sketch "Sketch2" against normal up to next bodies 2
equation "\"d16\" = d15"
equation "\"d15\" = 2.5"
properties part number "SZOMK-AK-C-C39" material "Aluminum 6061"
